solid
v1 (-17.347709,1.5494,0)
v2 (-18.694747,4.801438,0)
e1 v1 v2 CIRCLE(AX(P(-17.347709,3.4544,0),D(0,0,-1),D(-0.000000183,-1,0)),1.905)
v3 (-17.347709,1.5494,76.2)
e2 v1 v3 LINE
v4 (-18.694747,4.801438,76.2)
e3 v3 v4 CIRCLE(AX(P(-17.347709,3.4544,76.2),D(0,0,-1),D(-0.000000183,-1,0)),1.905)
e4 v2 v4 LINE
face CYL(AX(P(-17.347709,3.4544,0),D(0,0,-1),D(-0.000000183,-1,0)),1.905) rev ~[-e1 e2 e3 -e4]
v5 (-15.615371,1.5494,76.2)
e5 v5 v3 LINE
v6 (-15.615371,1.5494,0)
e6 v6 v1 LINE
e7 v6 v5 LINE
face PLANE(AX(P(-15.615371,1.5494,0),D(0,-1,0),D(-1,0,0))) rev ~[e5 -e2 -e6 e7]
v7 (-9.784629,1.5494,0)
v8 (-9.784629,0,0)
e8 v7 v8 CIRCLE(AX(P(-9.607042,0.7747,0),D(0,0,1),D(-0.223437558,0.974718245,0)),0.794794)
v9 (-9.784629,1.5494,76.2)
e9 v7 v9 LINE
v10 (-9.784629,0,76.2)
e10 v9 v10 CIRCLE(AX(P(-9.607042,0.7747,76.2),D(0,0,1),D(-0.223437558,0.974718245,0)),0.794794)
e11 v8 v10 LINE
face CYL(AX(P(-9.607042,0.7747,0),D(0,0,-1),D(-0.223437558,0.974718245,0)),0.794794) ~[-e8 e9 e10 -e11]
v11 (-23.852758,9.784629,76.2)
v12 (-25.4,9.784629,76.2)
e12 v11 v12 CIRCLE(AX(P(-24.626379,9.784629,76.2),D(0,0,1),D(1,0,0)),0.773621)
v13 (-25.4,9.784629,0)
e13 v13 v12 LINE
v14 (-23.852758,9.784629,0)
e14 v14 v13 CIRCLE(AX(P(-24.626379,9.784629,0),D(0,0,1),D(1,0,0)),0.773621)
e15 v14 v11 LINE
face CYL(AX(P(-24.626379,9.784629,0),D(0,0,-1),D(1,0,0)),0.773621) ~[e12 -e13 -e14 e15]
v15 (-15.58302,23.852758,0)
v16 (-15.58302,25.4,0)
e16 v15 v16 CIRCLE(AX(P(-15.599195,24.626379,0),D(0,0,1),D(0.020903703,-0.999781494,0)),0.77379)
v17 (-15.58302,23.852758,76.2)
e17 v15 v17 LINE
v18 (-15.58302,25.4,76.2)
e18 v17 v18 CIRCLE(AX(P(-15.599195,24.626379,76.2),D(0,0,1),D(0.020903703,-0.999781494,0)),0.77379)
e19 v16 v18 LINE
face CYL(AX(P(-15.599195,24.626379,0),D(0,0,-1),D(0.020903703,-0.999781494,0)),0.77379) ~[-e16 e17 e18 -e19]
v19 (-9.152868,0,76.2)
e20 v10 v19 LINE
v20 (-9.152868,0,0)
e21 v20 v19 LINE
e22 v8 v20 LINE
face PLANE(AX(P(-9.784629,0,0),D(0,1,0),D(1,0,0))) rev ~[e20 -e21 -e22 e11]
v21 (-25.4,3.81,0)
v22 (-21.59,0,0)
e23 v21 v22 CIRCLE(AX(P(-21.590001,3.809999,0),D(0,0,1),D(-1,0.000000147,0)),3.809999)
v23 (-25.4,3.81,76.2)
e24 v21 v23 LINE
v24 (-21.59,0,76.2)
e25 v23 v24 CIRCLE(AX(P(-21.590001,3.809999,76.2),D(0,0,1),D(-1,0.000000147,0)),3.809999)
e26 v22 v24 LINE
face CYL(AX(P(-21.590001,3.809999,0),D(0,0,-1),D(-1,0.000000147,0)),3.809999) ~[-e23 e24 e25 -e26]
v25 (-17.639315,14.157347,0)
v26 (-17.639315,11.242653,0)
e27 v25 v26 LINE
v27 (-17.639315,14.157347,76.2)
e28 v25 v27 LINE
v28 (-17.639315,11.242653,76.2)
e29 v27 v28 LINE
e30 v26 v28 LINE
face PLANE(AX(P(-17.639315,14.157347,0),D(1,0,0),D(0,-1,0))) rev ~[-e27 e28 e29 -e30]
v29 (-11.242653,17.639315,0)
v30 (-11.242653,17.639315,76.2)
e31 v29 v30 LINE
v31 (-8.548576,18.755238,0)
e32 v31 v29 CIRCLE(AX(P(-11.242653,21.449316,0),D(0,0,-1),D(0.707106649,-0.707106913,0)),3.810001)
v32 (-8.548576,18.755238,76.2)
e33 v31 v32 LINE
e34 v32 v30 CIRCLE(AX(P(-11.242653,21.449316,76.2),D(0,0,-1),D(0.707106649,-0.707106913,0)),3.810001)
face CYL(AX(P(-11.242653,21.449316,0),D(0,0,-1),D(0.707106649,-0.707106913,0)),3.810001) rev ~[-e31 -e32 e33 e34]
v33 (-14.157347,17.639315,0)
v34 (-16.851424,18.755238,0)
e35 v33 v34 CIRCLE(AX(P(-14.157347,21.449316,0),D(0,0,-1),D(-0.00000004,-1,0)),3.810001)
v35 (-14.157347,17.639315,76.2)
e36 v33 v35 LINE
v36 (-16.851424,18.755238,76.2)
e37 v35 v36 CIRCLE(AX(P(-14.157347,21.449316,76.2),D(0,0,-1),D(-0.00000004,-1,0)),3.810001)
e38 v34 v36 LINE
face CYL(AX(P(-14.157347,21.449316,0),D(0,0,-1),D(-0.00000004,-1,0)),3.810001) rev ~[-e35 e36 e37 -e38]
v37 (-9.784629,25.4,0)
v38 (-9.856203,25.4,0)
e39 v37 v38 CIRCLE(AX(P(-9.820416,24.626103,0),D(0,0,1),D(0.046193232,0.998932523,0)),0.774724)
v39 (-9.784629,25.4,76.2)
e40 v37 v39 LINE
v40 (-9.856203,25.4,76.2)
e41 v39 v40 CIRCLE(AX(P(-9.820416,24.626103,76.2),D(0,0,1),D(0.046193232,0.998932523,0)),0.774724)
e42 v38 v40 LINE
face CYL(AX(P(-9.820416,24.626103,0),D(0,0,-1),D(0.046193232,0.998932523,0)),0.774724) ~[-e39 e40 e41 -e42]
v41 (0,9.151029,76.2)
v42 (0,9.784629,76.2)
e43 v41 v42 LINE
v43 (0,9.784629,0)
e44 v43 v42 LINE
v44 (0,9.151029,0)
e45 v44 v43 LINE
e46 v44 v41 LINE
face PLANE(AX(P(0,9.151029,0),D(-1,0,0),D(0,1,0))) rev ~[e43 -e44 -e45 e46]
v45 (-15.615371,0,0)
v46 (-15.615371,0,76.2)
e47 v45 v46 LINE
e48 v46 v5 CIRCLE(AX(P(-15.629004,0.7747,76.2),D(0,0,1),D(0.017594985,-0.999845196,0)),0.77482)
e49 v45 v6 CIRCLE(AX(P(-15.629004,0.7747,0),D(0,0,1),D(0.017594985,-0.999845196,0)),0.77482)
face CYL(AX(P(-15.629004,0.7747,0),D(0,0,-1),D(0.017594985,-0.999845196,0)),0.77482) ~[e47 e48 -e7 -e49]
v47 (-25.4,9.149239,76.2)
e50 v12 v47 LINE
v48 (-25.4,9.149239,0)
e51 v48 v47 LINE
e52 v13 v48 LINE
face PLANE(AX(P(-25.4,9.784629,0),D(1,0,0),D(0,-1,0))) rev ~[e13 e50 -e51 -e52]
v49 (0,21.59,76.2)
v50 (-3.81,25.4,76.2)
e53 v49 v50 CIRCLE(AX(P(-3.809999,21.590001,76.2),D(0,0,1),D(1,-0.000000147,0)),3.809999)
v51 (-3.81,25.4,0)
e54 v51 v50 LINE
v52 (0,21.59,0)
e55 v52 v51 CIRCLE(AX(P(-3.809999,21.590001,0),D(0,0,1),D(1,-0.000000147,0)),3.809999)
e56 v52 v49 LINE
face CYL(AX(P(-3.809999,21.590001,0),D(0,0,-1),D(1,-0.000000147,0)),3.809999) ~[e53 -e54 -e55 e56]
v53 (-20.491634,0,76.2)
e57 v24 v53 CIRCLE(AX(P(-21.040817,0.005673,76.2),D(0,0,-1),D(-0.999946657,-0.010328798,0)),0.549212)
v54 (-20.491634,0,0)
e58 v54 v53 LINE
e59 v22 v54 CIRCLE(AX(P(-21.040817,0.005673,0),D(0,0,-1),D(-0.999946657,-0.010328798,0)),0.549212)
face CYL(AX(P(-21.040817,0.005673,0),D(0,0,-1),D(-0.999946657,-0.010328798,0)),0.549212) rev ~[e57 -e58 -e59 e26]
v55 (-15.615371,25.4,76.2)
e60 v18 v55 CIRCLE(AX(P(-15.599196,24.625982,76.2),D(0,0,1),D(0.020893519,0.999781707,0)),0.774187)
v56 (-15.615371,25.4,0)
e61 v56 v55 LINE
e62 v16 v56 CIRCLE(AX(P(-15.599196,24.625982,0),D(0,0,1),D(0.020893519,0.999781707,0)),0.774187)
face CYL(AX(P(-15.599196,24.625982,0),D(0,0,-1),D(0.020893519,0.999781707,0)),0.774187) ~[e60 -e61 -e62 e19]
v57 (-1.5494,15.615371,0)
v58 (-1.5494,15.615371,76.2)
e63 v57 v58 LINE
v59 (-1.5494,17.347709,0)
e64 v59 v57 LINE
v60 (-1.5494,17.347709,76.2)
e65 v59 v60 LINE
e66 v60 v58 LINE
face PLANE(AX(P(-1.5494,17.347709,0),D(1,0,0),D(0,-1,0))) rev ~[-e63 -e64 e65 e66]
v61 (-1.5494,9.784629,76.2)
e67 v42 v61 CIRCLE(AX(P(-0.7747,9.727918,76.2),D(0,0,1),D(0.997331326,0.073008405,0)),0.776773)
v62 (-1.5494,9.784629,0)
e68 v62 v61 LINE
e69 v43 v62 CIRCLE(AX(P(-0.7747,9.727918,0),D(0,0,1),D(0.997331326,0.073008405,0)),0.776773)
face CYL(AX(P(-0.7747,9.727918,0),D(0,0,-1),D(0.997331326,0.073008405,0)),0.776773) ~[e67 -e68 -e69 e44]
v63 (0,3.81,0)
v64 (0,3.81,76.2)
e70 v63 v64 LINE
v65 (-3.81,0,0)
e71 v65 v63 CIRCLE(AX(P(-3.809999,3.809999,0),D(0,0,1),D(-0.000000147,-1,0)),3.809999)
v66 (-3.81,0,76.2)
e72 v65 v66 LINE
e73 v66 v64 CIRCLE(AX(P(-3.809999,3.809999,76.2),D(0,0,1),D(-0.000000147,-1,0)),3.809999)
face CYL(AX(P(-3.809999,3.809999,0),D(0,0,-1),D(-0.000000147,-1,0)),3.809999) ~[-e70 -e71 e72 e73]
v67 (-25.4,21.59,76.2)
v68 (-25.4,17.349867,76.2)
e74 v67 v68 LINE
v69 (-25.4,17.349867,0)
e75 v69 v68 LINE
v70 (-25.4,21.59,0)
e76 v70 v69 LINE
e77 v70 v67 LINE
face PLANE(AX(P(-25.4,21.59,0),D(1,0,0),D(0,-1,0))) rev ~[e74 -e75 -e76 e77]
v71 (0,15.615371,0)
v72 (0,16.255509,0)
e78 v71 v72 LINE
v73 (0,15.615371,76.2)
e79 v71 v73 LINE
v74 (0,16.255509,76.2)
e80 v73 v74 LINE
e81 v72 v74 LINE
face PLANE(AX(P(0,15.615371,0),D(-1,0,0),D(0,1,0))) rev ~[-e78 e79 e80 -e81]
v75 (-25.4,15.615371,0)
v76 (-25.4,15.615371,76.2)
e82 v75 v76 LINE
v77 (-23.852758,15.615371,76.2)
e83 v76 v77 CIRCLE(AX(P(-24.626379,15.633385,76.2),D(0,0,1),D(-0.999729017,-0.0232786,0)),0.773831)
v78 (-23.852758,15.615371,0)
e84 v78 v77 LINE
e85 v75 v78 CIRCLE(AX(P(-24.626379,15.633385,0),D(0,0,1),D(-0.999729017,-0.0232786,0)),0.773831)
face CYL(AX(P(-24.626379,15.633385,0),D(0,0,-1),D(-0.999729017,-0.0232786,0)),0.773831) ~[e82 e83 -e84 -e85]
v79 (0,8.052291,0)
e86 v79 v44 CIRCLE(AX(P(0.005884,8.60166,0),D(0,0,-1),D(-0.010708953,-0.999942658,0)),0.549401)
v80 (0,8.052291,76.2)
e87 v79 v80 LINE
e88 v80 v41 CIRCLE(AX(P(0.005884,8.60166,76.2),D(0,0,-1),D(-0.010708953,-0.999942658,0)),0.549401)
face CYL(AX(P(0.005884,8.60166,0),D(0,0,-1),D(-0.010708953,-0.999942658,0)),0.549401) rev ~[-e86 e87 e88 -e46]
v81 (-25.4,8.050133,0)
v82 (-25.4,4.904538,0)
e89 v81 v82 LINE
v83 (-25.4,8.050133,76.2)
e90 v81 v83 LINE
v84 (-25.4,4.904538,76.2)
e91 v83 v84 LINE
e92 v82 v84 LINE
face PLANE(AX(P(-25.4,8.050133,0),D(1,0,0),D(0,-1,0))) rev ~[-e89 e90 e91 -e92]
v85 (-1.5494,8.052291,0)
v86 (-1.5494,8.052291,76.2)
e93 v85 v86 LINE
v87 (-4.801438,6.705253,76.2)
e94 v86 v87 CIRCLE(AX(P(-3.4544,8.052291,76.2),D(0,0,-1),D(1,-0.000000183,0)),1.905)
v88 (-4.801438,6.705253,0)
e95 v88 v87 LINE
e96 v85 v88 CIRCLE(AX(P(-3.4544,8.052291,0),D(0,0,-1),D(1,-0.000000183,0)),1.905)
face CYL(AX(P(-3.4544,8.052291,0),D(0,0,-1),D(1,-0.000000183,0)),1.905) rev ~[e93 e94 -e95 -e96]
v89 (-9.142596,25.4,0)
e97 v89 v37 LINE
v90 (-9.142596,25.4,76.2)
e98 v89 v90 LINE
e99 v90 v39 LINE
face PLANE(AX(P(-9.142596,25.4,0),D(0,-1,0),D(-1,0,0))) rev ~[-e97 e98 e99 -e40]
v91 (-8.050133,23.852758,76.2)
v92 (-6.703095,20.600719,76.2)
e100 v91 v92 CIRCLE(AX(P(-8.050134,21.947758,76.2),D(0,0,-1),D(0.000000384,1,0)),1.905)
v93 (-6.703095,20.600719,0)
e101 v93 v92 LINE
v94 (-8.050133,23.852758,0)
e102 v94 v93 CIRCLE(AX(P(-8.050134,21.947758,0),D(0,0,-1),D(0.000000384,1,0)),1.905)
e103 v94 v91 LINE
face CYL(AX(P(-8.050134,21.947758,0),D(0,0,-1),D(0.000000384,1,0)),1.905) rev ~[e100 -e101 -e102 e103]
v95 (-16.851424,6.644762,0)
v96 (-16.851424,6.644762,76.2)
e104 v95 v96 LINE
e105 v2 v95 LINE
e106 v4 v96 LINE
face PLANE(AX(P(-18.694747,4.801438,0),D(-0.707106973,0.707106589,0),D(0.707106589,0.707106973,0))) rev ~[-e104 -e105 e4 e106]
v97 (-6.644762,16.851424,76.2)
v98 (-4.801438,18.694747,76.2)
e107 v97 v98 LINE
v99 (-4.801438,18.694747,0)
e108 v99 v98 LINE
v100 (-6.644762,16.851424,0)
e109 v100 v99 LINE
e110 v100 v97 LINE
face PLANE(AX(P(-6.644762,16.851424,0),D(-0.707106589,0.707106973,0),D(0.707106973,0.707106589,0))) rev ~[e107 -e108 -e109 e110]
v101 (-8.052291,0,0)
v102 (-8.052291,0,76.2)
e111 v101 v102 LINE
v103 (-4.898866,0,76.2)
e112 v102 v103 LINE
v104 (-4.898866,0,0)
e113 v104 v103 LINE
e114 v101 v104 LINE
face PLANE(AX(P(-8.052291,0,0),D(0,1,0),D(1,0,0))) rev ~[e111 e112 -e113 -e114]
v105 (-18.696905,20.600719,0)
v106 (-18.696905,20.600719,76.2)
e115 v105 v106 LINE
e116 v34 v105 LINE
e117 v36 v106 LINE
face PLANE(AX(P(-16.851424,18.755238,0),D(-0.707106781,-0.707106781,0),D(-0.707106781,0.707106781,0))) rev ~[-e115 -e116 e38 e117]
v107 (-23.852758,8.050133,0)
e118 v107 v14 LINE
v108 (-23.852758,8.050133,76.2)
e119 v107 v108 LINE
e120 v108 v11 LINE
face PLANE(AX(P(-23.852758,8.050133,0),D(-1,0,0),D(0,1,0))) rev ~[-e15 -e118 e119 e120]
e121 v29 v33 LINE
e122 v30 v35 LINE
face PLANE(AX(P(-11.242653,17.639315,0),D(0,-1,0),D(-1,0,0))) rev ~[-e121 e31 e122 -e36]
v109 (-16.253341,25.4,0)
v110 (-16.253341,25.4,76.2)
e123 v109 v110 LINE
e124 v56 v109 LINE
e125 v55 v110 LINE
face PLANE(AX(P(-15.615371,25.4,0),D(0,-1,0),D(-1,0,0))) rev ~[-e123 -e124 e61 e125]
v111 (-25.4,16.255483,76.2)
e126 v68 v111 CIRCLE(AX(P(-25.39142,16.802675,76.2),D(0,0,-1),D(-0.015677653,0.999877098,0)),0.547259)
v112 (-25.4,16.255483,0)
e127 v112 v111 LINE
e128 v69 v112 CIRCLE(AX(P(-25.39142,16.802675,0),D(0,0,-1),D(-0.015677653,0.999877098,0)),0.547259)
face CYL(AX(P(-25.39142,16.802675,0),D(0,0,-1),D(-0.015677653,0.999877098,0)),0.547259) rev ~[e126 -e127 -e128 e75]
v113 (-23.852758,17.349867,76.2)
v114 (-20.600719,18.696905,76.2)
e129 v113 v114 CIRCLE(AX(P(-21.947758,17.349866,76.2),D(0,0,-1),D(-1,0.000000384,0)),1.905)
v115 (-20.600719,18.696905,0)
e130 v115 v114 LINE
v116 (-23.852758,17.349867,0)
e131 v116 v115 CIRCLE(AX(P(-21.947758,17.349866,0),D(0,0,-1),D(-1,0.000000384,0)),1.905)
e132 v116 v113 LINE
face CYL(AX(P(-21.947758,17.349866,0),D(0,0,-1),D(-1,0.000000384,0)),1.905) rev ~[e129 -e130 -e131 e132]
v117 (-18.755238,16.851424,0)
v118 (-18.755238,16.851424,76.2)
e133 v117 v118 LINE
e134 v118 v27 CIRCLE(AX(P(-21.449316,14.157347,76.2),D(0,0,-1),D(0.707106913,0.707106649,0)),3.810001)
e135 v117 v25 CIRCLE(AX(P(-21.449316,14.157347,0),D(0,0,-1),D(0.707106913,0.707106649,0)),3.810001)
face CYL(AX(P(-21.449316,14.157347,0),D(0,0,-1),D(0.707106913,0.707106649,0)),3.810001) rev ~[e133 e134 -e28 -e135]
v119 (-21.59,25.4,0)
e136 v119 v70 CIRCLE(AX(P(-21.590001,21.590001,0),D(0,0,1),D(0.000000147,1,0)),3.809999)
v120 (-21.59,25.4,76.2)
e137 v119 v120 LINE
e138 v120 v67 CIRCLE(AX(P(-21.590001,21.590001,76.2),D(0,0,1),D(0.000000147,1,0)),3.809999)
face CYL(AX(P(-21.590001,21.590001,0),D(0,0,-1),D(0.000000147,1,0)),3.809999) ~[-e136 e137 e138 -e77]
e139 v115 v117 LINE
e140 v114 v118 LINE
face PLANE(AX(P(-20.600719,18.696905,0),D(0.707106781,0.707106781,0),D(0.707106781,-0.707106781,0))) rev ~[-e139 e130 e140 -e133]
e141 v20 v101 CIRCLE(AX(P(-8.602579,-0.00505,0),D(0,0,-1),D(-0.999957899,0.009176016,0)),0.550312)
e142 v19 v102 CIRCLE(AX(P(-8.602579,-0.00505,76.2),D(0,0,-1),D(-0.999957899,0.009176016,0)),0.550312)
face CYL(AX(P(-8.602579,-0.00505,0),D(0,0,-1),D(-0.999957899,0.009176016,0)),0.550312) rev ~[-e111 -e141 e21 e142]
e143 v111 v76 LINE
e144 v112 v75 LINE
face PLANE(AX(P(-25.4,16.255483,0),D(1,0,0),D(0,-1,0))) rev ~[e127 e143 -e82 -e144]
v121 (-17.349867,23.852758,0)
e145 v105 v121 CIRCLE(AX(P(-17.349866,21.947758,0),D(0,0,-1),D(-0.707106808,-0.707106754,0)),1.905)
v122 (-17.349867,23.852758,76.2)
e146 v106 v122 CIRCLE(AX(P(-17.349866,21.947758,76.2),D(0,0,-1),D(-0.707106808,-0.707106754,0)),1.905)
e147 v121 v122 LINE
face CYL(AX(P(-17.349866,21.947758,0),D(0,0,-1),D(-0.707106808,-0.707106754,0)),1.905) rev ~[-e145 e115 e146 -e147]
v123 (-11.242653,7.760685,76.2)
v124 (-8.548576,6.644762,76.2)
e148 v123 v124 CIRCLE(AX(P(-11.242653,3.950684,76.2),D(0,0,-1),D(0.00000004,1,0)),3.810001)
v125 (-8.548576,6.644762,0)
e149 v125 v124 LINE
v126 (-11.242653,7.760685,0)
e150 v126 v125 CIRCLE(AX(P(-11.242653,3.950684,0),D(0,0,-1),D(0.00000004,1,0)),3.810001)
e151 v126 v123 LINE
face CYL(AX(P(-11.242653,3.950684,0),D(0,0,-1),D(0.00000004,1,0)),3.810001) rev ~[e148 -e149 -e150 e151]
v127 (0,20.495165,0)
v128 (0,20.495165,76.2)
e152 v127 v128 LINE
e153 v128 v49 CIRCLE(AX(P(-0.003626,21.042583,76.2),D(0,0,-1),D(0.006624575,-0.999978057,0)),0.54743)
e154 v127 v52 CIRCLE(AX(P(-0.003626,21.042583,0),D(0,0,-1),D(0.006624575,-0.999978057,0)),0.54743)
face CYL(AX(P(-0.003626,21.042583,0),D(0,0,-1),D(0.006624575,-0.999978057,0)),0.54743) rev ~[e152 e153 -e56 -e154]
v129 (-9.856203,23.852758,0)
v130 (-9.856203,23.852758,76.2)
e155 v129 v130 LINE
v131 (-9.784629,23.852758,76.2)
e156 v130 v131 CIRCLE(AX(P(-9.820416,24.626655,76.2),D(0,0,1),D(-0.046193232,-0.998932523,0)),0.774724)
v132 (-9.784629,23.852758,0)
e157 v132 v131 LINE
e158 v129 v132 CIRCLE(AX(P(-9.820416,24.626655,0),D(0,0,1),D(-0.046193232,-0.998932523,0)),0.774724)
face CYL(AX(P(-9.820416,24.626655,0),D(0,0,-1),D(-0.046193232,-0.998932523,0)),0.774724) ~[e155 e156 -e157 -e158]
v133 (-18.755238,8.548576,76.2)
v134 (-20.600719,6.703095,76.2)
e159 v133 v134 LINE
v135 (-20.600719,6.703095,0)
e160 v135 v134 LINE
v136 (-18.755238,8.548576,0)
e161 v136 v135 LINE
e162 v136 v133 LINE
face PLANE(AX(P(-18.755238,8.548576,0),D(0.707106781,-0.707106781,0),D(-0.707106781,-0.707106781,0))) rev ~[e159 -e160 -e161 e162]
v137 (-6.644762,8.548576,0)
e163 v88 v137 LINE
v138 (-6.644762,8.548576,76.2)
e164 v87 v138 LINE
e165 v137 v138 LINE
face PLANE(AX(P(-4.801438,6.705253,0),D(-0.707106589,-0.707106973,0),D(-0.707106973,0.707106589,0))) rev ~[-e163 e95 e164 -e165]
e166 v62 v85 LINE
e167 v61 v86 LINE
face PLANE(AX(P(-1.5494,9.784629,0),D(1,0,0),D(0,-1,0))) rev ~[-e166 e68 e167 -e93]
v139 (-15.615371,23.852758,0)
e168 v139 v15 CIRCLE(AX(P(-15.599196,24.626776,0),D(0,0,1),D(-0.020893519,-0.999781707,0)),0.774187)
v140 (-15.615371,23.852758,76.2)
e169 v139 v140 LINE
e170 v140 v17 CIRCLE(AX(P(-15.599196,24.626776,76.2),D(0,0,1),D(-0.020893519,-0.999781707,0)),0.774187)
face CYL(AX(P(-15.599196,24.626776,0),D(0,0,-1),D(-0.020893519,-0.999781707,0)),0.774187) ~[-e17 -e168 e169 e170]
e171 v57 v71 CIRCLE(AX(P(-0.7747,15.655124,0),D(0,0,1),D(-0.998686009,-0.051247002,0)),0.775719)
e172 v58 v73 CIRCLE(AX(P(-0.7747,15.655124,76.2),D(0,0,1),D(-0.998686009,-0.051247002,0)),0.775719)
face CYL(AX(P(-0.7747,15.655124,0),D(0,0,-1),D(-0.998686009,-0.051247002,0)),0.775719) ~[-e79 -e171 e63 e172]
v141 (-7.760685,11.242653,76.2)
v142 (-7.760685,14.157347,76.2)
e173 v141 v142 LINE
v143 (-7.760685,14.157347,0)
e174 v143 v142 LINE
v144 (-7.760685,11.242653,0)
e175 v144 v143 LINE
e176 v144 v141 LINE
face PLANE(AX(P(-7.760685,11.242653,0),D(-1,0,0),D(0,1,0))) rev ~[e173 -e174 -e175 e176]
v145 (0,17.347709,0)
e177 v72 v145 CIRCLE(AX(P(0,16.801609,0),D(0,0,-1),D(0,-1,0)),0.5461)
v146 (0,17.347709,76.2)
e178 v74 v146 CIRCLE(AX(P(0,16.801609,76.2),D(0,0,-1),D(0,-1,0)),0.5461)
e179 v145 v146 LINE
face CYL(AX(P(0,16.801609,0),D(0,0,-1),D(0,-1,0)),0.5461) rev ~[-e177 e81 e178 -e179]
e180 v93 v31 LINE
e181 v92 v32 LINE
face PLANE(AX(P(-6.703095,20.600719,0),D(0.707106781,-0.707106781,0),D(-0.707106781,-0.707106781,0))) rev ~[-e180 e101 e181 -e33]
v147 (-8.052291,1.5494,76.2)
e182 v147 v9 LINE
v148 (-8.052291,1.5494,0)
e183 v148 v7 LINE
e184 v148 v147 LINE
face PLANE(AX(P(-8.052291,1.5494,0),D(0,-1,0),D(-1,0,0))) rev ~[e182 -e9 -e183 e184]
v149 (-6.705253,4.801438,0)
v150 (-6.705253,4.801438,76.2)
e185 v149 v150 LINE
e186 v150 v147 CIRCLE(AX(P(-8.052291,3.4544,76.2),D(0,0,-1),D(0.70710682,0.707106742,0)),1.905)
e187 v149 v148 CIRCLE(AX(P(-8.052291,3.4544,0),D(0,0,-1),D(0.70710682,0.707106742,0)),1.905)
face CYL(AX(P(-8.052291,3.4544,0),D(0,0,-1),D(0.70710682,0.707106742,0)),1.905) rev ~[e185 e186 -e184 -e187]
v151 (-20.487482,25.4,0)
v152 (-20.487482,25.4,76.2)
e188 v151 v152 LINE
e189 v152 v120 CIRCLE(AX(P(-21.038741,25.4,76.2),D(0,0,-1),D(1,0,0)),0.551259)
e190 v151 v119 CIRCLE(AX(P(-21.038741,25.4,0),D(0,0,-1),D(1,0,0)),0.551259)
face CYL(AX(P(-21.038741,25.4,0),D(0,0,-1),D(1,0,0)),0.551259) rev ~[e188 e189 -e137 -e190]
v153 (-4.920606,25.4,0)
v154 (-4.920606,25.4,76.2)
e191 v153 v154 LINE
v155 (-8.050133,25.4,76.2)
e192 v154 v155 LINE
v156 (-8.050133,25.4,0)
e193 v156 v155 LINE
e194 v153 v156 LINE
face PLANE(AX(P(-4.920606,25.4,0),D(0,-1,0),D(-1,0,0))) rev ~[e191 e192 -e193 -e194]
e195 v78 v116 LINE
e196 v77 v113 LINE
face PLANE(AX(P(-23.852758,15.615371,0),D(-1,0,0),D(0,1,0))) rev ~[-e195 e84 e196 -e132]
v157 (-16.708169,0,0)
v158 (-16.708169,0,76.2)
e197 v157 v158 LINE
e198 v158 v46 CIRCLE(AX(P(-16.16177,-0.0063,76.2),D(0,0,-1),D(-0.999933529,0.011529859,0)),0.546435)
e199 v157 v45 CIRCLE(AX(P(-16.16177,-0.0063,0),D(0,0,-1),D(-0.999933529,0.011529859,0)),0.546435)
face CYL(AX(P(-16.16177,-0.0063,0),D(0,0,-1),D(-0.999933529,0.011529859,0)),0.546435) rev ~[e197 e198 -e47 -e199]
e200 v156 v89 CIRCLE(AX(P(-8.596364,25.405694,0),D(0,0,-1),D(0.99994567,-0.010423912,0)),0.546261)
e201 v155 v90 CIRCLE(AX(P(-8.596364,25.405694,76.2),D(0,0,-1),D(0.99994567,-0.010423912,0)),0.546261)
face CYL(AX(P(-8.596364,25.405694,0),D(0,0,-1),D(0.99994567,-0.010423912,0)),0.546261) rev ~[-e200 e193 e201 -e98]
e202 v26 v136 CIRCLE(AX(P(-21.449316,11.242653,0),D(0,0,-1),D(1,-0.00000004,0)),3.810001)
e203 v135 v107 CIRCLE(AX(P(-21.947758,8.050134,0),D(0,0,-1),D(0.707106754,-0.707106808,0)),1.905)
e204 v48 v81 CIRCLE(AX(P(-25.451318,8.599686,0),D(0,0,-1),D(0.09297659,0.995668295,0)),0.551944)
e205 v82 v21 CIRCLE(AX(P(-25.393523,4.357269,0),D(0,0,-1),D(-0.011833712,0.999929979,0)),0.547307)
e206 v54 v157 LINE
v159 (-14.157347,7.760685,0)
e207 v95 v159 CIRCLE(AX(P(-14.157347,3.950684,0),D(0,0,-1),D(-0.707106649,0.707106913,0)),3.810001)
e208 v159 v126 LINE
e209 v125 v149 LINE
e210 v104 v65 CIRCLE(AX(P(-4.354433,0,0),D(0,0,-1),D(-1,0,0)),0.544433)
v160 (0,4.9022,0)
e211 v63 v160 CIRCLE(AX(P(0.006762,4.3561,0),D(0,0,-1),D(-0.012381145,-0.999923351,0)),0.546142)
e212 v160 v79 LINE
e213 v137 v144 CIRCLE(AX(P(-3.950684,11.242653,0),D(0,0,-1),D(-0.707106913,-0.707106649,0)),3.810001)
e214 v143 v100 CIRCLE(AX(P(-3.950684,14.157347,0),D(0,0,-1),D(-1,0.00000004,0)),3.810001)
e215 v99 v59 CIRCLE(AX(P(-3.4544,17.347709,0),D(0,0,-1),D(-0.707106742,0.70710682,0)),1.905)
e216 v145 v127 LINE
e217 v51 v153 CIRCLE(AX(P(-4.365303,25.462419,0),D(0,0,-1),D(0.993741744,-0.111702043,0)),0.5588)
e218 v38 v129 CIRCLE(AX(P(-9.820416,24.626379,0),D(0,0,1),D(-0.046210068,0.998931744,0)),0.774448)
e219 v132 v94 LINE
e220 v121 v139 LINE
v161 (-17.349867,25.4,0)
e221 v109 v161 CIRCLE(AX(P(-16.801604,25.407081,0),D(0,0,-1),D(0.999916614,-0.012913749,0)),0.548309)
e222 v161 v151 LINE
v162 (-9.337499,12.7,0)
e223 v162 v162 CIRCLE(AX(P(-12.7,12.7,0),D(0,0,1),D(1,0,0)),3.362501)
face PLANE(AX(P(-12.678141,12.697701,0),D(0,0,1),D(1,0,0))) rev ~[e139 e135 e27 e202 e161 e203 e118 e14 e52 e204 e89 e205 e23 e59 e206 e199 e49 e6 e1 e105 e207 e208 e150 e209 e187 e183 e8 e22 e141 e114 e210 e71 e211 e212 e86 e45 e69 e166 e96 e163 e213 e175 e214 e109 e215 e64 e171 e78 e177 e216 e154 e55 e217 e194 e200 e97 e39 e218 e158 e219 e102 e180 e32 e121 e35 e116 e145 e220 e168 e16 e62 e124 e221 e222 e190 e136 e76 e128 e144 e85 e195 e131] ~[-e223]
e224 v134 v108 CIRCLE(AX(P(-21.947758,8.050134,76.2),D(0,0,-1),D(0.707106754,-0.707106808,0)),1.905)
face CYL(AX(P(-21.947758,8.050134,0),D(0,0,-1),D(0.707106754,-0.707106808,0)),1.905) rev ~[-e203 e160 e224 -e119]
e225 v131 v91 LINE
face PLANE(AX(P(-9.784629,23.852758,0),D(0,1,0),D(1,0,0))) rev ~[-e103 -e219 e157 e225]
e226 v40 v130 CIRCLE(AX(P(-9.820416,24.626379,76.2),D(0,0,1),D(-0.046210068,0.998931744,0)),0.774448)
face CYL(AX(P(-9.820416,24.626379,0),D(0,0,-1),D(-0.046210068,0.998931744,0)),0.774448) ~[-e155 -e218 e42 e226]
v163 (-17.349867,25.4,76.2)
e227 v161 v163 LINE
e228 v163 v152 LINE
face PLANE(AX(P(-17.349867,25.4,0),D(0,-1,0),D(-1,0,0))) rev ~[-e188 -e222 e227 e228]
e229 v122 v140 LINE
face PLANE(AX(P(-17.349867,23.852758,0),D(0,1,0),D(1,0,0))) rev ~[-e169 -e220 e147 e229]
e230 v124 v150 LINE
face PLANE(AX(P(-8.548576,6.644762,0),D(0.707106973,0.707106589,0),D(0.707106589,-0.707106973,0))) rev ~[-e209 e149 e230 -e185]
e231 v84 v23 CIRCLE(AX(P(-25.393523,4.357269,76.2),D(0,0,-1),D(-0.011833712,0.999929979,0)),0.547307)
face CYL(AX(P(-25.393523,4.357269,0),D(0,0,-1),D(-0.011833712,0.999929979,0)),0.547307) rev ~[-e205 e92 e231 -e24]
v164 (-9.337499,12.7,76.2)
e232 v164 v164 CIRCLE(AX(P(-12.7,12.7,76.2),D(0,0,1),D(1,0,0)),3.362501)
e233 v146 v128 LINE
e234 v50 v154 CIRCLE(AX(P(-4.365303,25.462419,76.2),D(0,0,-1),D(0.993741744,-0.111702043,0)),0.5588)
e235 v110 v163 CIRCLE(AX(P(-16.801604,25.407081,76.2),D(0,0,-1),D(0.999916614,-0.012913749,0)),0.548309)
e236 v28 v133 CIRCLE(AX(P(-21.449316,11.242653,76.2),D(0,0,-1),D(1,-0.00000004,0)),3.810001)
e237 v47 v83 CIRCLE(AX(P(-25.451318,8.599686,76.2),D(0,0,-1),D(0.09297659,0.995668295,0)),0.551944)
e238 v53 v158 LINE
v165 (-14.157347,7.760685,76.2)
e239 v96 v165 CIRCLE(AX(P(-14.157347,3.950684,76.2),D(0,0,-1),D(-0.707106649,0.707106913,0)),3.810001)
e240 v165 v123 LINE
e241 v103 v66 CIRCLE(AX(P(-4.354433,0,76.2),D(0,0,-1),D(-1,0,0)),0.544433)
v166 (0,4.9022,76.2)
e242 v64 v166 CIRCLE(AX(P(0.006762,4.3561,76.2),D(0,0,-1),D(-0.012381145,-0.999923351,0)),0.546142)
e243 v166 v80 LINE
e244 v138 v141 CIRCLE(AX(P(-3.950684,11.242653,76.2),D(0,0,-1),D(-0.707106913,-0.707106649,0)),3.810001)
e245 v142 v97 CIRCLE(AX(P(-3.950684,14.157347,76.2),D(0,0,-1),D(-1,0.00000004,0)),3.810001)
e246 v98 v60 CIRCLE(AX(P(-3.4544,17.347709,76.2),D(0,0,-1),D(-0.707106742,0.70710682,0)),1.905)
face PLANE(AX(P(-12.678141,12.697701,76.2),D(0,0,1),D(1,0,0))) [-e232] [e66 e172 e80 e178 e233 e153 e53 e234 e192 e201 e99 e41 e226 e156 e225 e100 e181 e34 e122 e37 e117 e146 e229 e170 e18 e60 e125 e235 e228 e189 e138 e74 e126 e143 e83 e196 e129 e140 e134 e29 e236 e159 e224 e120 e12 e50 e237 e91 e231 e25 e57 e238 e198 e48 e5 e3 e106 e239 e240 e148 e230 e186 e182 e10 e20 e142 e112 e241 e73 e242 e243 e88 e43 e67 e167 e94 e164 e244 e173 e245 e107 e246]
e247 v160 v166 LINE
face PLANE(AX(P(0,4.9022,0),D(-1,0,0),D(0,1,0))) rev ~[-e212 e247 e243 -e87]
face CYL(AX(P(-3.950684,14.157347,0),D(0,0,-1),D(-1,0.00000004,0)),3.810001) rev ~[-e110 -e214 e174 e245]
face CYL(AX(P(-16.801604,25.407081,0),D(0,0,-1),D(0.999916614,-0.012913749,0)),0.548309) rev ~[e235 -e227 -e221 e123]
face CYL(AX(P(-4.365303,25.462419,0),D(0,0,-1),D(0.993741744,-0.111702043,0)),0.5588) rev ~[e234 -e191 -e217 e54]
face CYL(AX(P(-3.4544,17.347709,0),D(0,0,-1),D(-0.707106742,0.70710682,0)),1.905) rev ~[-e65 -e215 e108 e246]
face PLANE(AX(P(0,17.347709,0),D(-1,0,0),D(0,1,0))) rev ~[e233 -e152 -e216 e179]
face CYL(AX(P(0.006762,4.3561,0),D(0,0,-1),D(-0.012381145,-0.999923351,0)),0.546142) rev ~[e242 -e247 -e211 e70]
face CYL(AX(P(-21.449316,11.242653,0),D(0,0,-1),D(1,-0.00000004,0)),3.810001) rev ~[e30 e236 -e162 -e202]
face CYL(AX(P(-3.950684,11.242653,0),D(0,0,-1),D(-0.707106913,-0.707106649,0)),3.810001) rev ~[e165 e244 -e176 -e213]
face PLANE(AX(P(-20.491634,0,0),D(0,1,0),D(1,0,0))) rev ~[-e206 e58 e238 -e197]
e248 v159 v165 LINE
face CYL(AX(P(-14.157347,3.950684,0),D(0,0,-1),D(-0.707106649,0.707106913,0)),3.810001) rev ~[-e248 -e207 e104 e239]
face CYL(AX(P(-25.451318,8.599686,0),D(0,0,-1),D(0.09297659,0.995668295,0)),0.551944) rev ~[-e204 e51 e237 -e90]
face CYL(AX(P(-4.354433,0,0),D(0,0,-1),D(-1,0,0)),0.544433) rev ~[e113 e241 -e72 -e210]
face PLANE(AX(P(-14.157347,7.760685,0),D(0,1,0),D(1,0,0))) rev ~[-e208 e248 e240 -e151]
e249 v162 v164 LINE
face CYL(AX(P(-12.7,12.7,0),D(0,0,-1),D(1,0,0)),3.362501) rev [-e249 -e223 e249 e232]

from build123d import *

# Parameters (mm, degrees)
F0_R     = 3.362501
F1_DEPTH = 76.2


with BuildPart() as f1:
    # F0 (on Top) → F1 (new body)
    with BuildSketch(Plane.XY):
        with BuildLine():
            ThreePointArc((-8.548576, 18.755238), (-9.784629, 17.929334), (-11.242653, 17.639315))
            Line((-11.242653, 17.639315), (-14.157347, 17.639315))
            ThreePointArc((-14.157347, 17.639315), (-15.615371, 17.929334), (-16.851424, 18.755238))
            Line((-16.851424, 18.755238), (-18.696905, 20.600719))
            ThreePointArc((-18.696905, 20.600719), (-19.109857, 22.67677), (-17.349867, 23.852758))
            Line((-17.349867, 23.852758), (-15.615371, 23.852758))
            Line((-15.615371, 23.852758), (-15.58302, 23.852758))
            ThreePointArc((-15.58302, 23.852758), (-14.825405, 24.626379), (-15.58302, 25.4))
            Line((-15.58302, 25.4), (-15.615371, 25.4))
            Line((-15.615371, 25.4), (-16.253341, 25.4))
            ThreePointArc((-16.253341, 25.4), (-16.801604, 24.858772), (-17.349867, 25.4))
            Line((-17.349867, 25.4), (-20.487482, 25.4))
            ThreePointArc((-20.487482, 25.4), (-21.038741, 24.848741), (-21.59, 25.4))
            ThreePointArc((-21.59, 25.4), (-24.284077, 24.284077), (-25.4, 21.59))
            Line((-25.4, 21.59), (-25.4, 20.504724))
            Line((-25.4, 20.504724), (-25.4, 17.349867))
            ThreePointArc((-25.4, 17.349867), (-24.844161, 16.802675), (-25.4, 16.255483))
            Line((-25.4, 16.255483), (-25.4, 15.615371))
            ThreePointArc((-25.4, 15.615371), (-24.626379, 14.859554), (-23.852758, 15.615371))
            Line((-23.852758, 15.615371), (-23.852758, 17.349867))
            ThreePointArc((-23.852758, 17.349867), (-22.67677, 19.109857), (-20.600719, 18.696905))
            Line((-20.600719, 18.696905), (-18.755238, 16.851424))
            ThreePointArc((-18.755238, 16.851424), (-17.929334, 15.615371), (-17.639315, 14.157347))
            Line((-17.639315, 14.157347), (-17.639315, 11.242653))
            ThreePointArc((-17.639315, 11.242653), (-17.929334, 9.784629), (-18.755238, 8.548576))
            Line((-18.755238, 8.548576), (-20.600719, 6.703095))
            ThreePointArc((-20.600719, 6.703095), (-22.67677, 6.290143), (-23.852758, 8.050133))
            Line((-23.852758, 8.050133), (-23.852758, 9.784629))
            ThreePointArc((-23.852758, 9.784629), (-24.626379, 10.55825), (-25.4, 9.784629))
            Line((-25.4, 9.784629), (-25.4, 9.149239))
            ThreePointArc((-25.4, 9.149239), (-24.899374, 8.599686), (-25.4, 8.050133))
            Line((-25.4, 8.050133), (-25.4, 4.904538))
            ThreePointArc((-25.4, 4.904538), (-24.846216, 4.357269), (-25.4, 3.81))
            ThreePointArc((-25.4, 3.81), (-24.284077, 1.115923), (-21.59, 0))
            ThreePointArc((-21.59, 0), (-21.040817, 0.554885), (-20.491634, 0))
            Line((-20.491634, 0), (-16.708169, 0))
            ThreePointArc((-16.708169, 0), (-16.16177, 0.540135), (-15.615371, 0))
            ThreePointArc((-15.615371, 0), (-14.854184, 0.7747), (-15.615371, 1.5494))
            Line((-15.615371, 1.5494), (-17.347709, 1.5494))
            ThreePointArc((-17.347709, 1.5494), (-19.107699, 2.725388), (-18.694747, 4.801438))
            Line((-18.694747, 4.801438), (-16.851424, 6.644762))
            ThreePointArc((-16.851424, 6.644762), (-15.615371, 7.470666), (-14.157347, 7.760685))
            Line((-14.157347, 7.760685), (-11.242653, 7.760685))
            ThreePointArc((-11.242653, 7.760685), (-9.784629, 7.470666), (-8.548576, 6.644762))
            Line((-8.548576, 6.644762), (-6.705253, 4.801438))
            ThreePointArc((-6.705253, 4.801438), (-6.292301, 2.725388), (-8.052291, 1.5494))
            Line((-8.052291, 1.5494), (-9.784629, 1.5494))
            ThreePointArc((-9.784629, 1.5494), (-10.401836, 0.7747), (-9.784629, 0))
            Line((-9.784629, 0), (-9.152868, 0))
            ThreePointArc((-9.152868, 0), (-8.602579, 0.545262), (-8.052291, 0))
            Line((-8.052291, 0), (-4.898866, 0))
            ThreePointArc((-4.898866, 0), (-4.354433, 0.544433), (-3.81, 0))
            ThreePointArc((-3.81, 0), (-1.115923, 1.115923), (0, 3.81))
            ThreePointArc((0, 3.81), (-0.53938, 4.3561), (0, 4.9022))
            Line((0, 4.9022), (0, 8.052291))
            ThreePointArc((0, 8.052291), (-0.543517, 8.60166), (0, 9.151029))
            Line((0, 9.151029), (0, 9.784629))
            ThreePointArc((0, 9.784629), (-0.7747, 10.504691), (-1.5494, 9.784629))
            Line((-1.5494, 9.784629), (-1.5494, 8.052291))
            ThreePointArc((-1.5494, 8.052291), (-2.725388, 6.292301), (-4.801438, 6.705253))
            Line((-4.801438, 6.705253), (-6.644762, 8.548576))
            ThreePointArc((-6.644762, 8.548576), (-7.470666, 9.784629), (-7.760685, 11.242653))
            Line((-7.760685, 11.242653), (-7.760685, 14.157347))
            ThreePointArc((-7.760685, 14.157347), (-7.470666, 15.615371), (-6.644762, 16.851424))
            Line((-6.644762, 16.851424), (-4.801438, 18.694747))
            ThreePointArc((-4.801438, 18.694747), (-2.725388, 19.107699), (-1.5494, 17.347709))
            Line((-1.5494, 17.347709), (-1.5494, 15.615371))
            ThreePointArc((-1.5494, 15.615371), (-0.7747, 14.879405), (0, 15.615371))
            Line((0, 15.615371), (0, 16.255509))
            ThreePointArc((0, 16.255509), (-0.5461, 16.801609), (0, 17.347709))
            Line((0, 17.347709), (0, 20.495165))
            ThreePointArc((0, 20.495165), (-0.551056, 21.042583), (0, 21.59))
            ThreePointArc((0, 21.59), (-1.115923, 24.284077), (-3.81, 25.4))
            ThreePointArc((-3.81, 25.4), (-4.365303, 24.903619), (-4.920606, 25.4))
            Line((-4.920606, 25.4), (-8.050133, 25.4))
            ThreePointArc((-8.050133, 25.4), (-8.596365, 24.859433), (-9.142596, 25.4))
            Line((-9.142596, 25.4), (-9.784629, 25.4))
            Line((-9.784629, 25.4), (-9.856203, 25.4))
            ThreePointArc((-9.856203, 25.4), (-10.594864, 24.626379), (-9.856203, 23.852758))
            Line((-9.856203, 23.852758), (-9.784629, 23.852758))
            Line((-9.784629, 23.852758), (-8.050133, 23.852758))
            ThreePointArc((-8.050133, 23.852758), (-6.290143, 22.67677), (-6.703095, 20.600719))
            Line((-6.703095, 20.600719), (-8.548576, 18.755238))
        make_face()
        with Locations((-12.7, 12.7)):
            Circle(F0_R, mode=Mode.SUBTRACT)
        with BuildLine():
            ThreePointArc((-9.856203, 23.852758), (-9.820416, 23.851931), (-9.784629, 23.852758))
            Line((-9.784629, 23.852758), (-9.856203, 23.852758))
        make_face()
        with BuildLine():
            Line((-15.58302, 23.852758), (-15.615371, 23.852758))
            ThreePointArc((-15.615371, 23.852758), (-15.599195, 23.852589), (-15.58302, 23.852758))
        make_face()
        with BuildLine():
            ThreePointArc((-9.784629, 25.4), (-9.820416, 25.400827), (-9.856203, 25.4))
            Line((-9.856203, 25.4), (-9.784629, 25.4))
        make_face()
        with BuildLine():
            Line((-15.615371, 25.4), (-15.58302, 25.4))
            ThreePointArc((-15.58302, 25.4), (-15.599195, 25.400169), (-15.615371, 25.4))
        make_face()
    extrude(amount=F1_DEPTH)


solid = f1.part
